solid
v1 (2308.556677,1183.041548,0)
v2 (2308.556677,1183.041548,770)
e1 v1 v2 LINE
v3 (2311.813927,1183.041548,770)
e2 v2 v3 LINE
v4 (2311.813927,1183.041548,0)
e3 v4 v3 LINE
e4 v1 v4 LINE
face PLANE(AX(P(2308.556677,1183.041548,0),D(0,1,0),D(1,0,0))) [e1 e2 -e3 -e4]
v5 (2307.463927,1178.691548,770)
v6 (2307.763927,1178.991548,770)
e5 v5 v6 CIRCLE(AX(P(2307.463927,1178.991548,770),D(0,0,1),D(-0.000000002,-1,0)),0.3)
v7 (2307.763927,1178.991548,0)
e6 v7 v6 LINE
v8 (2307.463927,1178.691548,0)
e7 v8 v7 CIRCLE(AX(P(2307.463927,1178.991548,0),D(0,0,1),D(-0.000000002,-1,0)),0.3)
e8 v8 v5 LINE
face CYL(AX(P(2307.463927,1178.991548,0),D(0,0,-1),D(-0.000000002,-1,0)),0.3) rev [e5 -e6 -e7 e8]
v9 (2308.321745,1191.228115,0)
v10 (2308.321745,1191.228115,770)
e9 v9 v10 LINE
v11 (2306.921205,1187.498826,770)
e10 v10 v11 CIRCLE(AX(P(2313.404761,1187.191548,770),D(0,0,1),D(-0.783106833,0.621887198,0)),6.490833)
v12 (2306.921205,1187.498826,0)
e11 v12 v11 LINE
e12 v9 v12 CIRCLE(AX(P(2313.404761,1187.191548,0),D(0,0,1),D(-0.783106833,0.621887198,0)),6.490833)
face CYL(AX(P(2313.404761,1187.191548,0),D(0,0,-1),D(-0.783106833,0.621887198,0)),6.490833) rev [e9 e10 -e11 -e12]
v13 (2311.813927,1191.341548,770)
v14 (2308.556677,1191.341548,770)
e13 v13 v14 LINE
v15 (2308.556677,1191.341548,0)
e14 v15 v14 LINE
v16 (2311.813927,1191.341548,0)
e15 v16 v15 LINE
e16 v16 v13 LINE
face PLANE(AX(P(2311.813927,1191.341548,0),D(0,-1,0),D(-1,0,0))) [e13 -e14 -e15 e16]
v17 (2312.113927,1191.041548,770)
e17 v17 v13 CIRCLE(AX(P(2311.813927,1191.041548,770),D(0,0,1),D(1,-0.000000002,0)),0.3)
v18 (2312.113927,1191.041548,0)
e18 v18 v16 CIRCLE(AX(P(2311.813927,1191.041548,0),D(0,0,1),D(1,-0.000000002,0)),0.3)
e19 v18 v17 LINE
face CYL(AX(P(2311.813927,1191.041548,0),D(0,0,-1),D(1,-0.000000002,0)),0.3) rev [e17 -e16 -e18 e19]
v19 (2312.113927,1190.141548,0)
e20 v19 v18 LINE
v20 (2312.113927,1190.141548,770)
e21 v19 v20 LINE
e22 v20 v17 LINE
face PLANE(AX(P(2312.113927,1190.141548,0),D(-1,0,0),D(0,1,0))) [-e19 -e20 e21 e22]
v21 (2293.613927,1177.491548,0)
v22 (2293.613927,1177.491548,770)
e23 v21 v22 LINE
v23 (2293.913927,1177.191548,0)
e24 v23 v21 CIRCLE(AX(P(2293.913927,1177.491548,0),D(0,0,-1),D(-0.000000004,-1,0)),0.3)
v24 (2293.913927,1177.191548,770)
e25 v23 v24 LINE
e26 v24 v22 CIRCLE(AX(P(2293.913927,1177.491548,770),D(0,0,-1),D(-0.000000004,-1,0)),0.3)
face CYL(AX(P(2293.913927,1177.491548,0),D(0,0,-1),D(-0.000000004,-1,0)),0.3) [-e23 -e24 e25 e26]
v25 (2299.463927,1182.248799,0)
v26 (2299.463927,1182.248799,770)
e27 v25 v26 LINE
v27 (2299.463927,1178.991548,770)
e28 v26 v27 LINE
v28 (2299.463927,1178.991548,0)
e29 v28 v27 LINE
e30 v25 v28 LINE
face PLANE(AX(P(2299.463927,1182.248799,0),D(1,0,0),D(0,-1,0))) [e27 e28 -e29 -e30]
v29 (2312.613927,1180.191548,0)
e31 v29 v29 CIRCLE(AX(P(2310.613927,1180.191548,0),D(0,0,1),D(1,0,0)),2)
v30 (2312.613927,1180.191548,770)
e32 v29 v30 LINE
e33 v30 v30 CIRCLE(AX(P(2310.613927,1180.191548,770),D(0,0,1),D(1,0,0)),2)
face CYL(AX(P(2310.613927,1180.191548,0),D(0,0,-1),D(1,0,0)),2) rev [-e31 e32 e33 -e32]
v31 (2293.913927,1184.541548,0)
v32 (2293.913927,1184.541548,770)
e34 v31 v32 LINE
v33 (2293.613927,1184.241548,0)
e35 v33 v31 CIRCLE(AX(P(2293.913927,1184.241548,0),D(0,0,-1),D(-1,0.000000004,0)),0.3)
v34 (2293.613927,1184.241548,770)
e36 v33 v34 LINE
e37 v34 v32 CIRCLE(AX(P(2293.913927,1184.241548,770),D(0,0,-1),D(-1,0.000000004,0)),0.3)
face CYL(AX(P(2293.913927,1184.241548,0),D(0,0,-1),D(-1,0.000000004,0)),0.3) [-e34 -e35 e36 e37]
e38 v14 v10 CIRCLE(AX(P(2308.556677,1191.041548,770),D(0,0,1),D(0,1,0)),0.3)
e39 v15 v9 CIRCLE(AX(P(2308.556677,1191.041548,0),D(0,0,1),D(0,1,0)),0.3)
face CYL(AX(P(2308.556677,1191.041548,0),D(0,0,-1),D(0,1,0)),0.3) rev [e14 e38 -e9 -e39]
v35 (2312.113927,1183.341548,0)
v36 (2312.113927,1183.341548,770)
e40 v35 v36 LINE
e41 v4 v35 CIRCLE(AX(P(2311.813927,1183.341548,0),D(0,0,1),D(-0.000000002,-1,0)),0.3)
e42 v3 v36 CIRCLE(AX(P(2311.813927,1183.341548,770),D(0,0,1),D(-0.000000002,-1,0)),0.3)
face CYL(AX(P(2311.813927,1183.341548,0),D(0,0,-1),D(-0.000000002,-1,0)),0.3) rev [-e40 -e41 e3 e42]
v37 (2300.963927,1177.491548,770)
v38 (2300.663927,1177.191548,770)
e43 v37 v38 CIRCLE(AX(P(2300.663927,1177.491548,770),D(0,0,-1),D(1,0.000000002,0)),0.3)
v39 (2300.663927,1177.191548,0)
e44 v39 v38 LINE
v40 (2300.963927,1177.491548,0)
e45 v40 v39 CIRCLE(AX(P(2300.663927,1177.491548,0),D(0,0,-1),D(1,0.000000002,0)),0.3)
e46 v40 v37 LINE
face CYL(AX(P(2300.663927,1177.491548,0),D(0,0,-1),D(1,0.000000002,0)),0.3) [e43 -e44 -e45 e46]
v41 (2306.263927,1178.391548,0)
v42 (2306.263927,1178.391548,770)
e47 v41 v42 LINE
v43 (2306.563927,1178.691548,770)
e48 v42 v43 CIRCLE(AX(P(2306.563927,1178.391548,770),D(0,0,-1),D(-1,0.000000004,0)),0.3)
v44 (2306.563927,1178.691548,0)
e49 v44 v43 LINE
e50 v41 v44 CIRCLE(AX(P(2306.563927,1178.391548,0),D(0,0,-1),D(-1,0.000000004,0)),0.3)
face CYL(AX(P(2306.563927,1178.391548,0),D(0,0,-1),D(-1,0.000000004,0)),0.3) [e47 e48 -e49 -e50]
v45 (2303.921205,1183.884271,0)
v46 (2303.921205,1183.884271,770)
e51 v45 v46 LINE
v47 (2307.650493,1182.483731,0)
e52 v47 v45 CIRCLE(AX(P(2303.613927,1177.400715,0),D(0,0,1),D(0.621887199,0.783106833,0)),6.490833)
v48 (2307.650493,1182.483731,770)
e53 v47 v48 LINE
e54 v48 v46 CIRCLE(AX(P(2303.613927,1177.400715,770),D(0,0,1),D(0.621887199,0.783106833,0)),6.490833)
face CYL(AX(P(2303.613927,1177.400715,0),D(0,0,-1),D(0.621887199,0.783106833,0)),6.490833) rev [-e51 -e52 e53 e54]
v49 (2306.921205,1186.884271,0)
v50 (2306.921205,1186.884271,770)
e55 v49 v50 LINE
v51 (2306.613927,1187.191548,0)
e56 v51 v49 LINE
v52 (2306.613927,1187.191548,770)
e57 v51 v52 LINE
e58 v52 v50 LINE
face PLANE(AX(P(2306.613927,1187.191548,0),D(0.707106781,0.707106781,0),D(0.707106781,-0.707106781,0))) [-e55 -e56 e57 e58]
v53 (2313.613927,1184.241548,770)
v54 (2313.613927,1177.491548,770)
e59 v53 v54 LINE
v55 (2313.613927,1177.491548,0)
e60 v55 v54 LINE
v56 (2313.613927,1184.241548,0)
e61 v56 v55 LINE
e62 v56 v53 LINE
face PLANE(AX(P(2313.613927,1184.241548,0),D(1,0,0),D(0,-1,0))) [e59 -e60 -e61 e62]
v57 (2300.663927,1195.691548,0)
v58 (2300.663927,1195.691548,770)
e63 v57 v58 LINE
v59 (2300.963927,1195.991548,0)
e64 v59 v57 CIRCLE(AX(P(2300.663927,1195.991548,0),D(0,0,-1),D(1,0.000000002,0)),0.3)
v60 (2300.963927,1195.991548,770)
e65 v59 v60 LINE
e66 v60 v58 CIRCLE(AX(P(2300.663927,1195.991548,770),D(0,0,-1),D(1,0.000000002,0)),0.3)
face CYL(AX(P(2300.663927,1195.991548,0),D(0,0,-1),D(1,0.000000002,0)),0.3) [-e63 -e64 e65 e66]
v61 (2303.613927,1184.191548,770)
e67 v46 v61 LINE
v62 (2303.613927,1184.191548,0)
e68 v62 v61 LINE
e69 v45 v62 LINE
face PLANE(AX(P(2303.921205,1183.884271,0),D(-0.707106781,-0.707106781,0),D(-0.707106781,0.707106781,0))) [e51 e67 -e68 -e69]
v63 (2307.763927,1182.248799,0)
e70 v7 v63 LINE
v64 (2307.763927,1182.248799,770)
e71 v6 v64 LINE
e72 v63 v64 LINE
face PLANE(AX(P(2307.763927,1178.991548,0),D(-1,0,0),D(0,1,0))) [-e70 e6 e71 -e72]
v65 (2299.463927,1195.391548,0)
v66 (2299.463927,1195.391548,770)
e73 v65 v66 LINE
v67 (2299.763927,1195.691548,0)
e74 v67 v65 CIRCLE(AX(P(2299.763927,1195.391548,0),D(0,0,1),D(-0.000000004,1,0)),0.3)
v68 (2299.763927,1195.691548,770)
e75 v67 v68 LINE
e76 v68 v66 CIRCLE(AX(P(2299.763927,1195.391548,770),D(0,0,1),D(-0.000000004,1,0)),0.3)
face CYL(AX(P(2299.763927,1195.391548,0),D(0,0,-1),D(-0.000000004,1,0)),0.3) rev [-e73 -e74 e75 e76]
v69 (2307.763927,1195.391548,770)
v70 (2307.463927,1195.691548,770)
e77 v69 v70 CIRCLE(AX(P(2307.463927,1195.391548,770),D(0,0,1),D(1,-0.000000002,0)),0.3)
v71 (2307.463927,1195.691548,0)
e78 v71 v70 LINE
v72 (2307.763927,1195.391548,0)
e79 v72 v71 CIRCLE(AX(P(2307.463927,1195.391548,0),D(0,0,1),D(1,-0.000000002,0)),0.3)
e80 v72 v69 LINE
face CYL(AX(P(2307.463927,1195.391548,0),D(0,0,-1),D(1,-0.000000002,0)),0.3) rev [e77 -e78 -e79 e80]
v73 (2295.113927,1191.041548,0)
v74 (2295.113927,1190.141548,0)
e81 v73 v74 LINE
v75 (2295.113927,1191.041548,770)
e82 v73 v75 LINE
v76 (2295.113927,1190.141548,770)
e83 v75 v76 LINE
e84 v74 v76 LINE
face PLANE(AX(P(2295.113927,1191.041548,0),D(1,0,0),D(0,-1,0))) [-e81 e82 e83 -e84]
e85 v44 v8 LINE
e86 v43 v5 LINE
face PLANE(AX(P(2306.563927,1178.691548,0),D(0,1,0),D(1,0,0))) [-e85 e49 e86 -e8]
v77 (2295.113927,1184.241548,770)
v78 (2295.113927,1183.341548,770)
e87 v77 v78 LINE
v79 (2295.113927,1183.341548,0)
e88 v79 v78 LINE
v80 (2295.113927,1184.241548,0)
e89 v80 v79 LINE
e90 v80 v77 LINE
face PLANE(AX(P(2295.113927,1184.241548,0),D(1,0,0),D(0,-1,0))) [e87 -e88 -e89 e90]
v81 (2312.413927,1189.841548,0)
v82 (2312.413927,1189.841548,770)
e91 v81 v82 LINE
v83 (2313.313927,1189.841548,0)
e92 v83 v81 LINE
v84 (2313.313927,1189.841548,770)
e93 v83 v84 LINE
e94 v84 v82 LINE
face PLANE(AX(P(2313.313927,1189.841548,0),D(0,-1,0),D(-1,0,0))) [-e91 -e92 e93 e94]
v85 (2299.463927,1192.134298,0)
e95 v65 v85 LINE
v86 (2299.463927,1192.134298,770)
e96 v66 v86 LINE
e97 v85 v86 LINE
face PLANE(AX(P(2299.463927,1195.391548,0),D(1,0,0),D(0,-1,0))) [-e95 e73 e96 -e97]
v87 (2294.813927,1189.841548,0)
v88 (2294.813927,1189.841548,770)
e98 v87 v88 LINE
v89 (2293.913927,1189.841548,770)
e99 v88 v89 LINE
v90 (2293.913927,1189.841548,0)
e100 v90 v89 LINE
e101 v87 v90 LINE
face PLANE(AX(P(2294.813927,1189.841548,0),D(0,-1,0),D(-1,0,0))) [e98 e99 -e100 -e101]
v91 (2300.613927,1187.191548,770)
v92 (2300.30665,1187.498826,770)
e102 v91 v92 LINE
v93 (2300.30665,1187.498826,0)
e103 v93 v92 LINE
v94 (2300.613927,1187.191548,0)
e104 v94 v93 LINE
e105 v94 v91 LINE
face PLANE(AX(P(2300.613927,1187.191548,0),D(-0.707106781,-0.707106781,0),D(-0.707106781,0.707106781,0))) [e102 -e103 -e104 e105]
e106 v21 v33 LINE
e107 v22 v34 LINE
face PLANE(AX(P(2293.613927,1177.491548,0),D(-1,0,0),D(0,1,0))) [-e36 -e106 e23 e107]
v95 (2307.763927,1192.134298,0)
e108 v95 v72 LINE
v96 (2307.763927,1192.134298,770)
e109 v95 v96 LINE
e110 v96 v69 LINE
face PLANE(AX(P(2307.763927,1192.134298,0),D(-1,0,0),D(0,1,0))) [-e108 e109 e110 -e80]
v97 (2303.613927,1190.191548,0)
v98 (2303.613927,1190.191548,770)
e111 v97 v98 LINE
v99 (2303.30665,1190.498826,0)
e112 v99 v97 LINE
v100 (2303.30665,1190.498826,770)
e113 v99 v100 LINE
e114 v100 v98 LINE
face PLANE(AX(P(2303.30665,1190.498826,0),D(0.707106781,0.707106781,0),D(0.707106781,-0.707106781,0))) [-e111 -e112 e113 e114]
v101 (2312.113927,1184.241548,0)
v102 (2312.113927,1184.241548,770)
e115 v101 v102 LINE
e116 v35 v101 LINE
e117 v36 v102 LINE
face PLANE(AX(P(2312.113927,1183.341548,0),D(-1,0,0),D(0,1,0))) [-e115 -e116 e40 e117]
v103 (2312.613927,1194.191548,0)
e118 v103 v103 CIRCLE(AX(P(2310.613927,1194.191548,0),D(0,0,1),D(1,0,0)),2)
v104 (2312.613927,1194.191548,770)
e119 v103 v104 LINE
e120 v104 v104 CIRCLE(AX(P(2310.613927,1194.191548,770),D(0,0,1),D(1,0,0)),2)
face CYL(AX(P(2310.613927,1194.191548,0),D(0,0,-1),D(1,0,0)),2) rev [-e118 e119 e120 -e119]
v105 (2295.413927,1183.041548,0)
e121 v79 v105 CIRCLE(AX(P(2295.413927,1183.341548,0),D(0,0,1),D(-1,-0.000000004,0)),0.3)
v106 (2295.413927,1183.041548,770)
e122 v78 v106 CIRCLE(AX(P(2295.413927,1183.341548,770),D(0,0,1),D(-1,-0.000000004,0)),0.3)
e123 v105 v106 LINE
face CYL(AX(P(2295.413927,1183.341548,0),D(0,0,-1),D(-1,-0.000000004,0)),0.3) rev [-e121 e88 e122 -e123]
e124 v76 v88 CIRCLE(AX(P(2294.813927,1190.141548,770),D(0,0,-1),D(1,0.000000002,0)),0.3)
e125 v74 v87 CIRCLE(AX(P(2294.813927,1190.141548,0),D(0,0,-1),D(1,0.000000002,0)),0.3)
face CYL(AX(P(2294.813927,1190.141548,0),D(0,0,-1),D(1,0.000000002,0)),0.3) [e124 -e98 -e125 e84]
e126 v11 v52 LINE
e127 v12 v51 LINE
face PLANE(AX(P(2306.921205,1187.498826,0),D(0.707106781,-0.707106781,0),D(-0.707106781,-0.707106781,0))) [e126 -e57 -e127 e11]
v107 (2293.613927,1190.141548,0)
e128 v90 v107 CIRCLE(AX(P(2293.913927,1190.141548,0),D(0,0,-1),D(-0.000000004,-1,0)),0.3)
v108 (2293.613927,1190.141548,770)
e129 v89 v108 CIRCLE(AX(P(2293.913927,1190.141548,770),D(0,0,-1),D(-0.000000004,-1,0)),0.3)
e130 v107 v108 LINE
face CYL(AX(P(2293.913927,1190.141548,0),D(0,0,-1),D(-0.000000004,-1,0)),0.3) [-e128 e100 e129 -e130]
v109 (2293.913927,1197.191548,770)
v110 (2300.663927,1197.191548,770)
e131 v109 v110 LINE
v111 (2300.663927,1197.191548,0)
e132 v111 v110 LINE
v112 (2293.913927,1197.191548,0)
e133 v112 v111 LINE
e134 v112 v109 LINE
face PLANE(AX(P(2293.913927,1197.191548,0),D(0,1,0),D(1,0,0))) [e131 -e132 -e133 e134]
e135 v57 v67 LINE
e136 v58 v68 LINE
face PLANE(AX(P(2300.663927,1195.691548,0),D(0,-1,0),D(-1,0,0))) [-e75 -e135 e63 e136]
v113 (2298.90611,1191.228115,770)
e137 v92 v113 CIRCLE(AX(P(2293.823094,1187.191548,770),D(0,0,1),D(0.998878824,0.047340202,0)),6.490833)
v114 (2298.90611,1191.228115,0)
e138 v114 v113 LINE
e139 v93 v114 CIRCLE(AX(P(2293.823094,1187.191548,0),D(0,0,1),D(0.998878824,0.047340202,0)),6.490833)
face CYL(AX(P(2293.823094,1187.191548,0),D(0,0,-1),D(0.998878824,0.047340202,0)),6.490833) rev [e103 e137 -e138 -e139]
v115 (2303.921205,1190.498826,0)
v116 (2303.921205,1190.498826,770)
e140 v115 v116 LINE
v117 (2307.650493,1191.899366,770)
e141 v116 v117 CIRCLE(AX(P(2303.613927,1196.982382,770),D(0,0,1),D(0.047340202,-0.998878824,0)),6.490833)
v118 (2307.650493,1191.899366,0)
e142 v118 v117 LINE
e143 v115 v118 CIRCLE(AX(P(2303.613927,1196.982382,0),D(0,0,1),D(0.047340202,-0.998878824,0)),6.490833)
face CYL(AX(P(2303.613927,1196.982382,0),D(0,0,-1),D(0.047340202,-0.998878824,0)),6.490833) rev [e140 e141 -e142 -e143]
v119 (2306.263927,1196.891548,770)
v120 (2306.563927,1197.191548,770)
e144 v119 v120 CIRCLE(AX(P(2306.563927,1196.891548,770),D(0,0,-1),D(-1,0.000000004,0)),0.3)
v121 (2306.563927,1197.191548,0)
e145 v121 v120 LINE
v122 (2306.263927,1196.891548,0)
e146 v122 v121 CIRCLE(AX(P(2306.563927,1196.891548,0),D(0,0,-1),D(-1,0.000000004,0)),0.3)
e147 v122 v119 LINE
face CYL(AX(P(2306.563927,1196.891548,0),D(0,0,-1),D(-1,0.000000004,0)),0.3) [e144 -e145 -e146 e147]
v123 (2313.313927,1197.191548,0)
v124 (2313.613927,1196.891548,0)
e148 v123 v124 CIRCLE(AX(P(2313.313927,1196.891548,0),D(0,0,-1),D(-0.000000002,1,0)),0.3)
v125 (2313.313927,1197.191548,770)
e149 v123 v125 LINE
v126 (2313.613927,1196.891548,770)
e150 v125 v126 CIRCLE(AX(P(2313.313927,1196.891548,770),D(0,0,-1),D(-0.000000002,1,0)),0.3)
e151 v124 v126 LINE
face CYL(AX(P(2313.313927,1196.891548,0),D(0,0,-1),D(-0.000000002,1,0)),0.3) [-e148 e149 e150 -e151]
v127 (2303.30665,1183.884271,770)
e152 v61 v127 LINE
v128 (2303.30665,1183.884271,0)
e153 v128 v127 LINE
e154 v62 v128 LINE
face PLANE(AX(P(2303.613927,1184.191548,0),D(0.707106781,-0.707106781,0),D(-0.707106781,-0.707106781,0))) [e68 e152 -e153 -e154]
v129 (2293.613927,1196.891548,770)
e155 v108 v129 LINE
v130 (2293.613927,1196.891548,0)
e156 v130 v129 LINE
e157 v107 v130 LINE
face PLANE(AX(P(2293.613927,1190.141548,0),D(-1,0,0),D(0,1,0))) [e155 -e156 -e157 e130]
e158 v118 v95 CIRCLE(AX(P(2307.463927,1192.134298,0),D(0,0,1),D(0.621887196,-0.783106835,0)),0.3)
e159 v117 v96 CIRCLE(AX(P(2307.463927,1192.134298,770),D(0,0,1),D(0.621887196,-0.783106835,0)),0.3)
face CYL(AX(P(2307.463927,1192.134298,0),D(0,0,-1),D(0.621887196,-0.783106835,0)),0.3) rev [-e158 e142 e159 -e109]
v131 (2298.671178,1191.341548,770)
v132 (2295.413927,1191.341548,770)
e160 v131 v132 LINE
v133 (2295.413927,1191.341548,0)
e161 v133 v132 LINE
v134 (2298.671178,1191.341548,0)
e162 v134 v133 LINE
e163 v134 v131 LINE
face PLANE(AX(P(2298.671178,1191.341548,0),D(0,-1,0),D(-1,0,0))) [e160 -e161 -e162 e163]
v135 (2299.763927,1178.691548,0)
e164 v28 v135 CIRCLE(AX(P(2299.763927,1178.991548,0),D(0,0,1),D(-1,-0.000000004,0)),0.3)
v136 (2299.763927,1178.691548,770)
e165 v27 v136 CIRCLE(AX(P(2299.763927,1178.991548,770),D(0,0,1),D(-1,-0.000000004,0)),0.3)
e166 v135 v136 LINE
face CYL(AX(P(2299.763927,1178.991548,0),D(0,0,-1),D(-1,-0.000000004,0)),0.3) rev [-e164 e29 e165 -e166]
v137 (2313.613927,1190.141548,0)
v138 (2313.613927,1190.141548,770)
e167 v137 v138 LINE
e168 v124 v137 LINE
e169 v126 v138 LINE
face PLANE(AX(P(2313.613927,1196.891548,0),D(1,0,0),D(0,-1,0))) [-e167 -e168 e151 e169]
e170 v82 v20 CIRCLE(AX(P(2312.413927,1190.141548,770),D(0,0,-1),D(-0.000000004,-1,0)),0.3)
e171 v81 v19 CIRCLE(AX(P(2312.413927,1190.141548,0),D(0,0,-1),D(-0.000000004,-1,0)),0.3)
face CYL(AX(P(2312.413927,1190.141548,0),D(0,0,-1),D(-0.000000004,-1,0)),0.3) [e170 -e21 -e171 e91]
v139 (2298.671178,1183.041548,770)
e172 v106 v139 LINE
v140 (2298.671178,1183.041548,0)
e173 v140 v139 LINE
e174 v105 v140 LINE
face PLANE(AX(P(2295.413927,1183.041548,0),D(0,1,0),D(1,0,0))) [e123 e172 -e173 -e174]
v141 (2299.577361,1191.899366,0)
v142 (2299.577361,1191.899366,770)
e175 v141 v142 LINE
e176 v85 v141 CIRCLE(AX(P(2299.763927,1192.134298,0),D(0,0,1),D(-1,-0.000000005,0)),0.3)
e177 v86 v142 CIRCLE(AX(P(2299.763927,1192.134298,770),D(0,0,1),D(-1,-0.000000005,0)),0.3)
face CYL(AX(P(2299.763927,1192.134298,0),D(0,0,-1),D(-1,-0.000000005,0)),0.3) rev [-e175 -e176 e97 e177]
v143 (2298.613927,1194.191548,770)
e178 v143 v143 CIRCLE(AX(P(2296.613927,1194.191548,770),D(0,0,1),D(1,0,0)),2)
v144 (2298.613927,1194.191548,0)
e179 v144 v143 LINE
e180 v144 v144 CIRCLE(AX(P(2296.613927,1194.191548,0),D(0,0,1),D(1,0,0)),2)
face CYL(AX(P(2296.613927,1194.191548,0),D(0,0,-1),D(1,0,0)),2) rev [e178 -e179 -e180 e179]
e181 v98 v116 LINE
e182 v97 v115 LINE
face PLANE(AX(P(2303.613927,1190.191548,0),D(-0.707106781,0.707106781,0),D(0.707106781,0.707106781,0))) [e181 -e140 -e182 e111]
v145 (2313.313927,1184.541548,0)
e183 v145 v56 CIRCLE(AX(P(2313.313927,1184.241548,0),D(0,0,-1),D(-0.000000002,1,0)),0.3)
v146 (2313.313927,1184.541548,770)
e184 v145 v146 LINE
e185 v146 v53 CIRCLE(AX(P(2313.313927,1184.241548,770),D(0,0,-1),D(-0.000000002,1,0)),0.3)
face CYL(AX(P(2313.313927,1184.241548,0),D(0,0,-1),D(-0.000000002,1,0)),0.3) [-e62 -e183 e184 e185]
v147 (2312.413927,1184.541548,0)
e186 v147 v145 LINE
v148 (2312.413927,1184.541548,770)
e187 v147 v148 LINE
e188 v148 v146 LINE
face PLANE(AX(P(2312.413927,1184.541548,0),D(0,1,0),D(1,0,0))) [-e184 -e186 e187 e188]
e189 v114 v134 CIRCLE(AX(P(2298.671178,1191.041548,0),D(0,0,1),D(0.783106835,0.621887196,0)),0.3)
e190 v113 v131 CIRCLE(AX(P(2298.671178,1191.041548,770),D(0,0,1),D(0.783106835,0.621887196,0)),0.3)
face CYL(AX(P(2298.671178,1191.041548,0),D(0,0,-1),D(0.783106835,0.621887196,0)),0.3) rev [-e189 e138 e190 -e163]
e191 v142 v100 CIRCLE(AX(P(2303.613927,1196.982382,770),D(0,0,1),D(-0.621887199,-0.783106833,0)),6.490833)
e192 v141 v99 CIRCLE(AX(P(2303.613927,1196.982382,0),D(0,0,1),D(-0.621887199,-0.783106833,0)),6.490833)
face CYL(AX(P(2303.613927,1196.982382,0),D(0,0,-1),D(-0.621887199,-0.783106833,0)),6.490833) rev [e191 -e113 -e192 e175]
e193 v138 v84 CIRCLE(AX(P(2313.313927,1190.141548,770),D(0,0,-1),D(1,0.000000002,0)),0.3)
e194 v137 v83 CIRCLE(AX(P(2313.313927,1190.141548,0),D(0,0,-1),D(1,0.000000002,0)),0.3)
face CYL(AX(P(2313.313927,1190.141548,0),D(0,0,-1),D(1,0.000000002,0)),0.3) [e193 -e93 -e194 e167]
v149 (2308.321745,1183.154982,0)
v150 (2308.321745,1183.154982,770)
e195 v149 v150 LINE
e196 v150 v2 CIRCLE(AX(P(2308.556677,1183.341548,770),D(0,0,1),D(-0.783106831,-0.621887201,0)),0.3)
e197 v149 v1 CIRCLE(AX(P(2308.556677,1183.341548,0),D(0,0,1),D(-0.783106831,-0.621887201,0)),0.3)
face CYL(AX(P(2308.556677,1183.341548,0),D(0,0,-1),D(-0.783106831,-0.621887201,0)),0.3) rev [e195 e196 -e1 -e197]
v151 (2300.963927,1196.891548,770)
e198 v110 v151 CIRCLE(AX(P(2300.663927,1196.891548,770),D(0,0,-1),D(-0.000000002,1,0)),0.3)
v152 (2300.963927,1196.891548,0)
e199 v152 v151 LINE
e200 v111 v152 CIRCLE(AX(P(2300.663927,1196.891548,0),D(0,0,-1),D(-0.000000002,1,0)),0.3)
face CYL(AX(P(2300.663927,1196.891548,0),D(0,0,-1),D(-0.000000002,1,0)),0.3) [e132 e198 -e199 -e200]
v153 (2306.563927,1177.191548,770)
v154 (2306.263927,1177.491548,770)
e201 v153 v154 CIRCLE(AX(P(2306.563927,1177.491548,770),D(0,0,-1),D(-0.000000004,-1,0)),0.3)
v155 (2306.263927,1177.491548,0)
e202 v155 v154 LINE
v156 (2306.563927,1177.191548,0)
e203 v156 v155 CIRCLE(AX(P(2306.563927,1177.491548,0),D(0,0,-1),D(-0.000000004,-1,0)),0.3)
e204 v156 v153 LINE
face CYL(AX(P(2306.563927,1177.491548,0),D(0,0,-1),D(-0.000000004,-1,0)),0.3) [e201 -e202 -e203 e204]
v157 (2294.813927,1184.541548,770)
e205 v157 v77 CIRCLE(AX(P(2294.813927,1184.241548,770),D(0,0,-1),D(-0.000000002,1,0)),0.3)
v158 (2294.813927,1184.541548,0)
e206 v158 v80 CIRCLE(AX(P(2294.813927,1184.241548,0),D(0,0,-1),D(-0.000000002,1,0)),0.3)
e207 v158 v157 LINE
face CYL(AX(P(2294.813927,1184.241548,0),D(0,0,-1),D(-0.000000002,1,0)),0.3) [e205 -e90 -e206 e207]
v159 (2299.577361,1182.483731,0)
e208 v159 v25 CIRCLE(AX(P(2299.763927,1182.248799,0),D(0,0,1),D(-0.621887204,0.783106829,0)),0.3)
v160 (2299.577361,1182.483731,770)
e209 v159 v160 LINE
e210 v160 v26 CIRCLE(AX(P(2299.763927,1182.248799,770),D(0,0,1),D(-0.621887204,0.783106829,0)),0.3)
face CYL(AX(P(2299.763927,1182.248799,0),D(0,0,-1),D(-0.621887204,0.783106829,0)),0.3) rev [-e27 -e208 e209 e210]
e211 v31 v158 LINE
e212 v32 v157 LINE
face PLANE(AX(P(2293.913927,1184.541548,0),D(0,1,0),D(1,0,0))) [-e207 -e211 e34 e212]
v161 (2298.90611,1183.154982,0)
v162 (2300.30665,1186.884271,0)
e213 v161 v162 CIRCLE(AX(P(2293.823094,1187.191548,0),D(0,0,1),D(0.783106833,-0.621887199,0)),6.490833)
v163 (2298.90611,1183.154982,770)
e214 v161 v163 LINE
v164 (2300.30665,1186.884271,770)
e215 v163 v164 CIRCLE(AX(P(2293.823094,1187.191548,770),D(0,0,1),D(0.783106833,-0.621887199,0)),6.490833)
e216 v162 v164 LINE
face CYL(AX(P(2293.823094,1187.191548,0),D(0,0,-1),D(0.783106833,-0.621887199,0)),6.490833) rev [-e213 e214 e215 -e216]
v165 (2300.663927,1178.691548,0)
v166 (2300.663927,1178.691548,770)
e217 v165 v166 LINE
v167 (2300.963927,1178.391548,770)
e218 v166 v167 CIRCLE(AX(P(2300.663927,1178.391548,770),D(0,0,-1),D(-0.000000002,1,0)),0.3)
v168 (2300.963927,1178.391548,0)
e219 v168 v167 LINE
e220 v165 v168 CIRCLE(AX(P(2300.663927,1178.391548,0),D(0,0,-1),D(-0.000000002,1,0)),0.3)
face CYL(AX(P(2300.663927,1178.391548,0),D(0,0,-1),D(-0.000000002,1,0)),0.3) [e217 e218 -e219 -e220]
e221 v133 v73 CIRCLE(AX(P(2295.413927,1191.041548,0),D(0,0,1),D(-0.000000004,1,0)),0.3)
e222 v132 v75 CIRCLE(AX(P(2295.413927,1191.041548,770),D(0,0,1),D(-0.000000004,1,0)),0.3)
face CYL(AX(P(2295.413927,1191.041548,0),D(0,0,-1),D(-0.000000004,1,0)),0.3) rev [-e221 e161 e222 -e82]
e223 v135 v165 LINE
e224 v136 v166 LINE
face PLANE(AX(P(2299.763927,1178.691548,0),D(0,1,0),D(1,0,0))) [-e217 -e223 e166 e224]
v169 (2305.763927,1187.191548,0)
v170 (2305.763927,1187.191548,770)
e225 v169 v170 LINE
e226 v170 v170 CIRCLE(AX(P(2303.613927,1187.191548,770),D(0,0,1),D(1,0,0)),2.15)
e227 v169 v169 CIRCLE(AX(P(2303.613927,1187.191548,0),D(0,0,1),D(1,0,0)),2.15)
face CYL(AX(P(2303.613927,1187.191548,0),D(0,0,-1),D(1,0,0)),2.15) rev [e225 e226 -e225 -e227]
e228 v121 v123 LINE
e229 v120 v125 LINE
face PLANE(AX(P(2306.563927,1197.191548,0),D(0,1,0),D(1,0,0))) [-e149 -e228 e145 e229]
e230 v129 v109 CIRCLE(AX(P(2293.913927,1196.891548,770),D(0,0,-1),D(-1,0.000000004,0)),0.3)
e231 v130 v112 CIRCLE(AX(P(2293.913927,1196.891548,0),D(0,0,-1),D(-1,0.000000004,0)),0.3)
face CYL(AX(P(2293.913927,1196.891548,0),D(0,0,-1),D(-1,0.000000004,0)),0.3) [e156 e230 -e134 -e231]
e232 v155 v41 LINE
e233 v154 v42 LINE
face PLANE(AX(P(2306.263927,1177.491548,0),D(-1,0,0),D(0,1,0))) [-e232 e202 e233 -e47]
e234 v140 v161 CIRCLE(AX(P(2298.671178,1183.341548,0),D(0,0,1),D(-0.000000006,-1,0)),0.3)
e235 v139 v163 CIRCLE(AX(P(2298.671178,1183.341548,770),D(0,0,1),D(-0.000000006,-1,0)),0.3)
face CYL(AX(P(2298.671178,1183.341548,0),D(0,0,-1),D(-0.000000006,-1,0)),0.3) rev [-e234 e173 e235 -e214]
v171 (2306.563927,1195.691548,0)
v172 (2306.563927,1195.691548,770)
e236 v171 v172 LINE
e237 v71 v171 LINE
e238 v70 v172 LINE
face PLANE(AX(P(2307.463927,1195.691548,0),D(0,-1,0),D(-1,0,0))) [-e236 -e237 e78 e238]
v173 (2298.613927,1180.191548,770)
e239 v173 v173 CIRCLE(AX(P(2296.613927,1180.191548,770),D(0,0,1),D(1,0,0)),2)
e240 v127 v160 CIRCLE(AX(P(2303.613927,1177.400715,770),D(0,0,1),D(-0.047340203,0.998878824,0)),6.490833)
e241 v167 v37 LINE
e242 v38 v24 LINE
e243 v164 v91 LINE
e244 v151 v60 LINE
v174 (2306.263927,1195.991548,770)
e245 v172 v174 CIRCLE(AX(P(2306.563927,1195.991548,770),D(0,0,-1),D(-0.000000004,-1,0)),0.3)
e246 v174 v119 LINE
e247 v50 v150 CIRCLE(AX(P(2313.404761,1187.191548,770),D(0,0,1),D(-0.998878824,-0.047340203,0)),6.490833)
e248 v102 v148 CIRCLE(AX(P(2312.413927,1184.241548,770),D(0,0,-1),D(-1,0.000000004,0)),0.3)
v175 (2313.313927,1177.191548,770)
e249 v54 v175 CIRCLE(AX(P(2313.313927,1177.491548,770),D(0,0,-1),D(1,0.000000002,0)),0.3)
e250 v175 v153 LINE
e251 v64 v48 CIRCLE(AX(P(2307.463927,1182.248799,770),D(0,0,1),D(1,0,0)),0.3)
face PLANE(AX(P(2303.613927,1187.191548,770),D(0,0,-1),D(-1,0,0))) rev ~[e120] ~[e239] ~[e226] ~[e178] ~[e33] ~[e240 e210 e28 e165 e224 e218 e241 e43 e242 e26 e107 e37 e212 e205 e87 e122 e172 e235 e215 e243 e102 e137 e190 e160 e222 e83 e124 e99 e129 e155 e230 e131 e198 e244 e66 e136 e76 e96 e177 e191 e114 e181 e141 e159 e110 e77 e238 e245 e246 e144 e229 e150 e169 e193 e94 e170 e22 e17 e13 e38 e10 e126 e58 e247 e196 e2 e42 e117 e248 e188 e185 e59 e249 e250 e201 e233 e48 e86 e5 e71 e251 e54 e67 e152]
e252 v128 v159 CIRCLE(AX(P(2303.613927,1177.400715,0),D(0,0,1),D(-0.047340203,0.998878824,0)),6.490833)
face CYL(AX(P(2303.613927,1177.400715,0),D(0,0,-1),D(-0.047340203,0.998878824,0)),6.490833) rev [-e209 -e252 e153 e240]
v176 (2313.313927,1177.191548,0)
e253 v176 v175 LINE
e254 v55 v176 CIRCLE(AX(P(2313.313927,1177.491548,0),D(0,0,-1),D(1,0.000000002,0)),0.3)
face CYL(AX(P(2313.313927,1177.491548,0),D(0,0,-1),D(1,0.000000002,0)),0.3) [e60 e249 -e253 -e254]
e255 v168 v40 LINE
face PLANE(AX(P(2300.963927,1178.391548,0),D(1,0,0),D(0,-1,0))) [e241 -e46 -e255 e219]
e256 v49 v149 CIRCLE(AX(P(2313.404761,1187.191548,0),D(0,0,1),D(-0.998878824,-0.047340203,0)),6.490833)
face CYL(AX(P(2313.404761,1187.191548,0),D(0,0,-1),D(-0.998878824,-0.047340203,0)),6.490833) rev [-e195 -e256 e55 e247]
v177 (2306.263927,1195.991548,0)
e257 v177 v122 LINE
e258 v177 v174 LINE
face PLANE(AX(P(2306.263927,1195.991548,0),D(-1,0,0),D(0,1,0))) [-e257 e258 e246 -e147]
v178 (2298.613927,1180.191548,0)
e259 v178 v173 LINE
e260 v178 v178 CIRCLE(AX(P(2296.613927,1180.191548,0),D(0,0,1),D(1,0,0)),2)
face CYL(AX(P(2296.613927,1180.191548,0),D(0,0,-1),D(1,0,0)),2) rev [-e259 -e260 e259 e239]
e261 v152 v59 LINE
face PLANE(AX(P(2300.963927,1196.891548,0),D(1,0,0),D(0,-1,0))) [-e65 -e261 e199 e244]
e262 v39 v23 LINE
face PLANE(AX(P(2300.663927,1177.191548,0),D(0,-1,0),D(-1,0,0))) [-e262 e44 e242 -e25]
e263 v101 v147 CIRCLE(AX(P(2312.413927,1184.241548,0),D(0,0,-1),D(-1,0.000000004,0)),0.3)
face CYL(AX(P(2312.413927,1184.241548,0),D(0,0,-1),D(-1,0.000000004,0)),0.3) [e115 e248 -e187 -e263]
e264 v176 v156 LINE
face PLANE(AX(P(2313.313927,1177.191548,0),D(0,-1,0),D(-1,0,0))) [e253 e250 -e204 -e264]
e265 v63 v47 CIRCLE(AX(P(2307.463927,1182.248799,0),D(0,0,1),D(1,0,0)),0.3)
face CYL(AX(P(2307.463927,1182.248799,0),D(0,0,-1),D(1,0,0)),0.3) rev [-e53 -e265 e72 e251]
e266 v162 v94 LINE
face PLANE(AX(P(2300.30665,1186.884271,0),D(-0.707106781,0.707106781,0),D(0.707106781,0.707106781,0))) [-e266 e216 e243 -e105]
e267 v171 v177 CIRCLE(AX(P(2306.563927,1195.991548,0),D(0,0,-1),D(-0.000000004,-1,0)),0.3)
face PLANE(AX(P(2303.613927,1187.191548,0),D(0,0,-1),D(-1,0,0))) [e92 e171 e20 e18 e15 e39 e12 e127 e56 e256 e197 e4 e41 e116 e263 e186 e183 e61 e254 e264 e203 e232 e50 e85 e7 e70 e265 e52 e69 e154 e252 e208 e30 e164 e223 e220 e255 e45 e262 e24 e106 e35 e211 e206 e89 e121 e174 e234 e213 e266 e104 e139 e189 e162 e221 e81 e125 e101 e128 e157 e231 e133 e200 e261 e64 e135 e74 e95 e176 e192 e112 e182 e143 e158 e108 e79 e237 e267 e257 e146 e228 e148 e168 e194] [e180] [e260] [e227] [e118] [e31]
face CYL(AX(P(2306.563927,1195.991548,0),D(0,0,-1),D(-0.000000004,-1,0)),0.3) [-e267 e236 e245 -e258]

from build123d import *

# Parameters (mm, degrees)
MODEL_R         = 2.15
MODEL_R_2       = 2
EXTRUDE_1_DEPTH = 770


with BuildPart() as part:
    # Model → 보스-돌출1 (new body)
    with BuildSketch(Plane.XY):
        with BuildLine():
            Line((2307.763927197, 1192.134297913), (2307.763927197, 1195.391548465))
            ThreePointArc((2307.763927197, 1195.391548465), (2307.676059232, 1195.603680499), (2307.463927197, 1195.691548465))
            Line((2307.463927197, 1195.691548465), (2306.563927197, 1195.691548465))
            ThreePointArc((2306.563927197, 1195.691548465), (2306.351795163, 1195.779416431), (2306.263927197, 1195.991548465))
            Line((2306.263927197, 1195.991548465), (2306.263927197, 1196.891548465))
            ThreePointArc((2306.263927197, 1196.891548465), (2306.351795163, 1197.103680499), (2306.563927197, 1197.191548465))
            Line((2306.563927197, 1197.191548465), (2313.313927197, 1197.191548465))
            ThreePointArc((2313.313927197, 1197.191548465), (2313.526059232, 1197.103680499), (2313.613927197, 1196.891548465))
            Line((2313.613927197, 1196.891548465), (2313.613927197, 1190.141548465))
            ThreePointArc((2313.613927197, 1190.141548465), (2313.526059232, 1189.929416431), (2313.313927197, 1189.841548465))
            Line((2313.313927197, 1189.841548465), (2312.413927197, 1189.841548465))
            ThreePointArc((2312.413927197, 1189.841548465), (2312.201795163, 1189.929416431), (2312.113927197, 1190.141548465))
            Line((2312.113927197, 1190.141548465), (2312.113927197, 1191.041548465))
            ThreePointArc((2312.113927197, 1191.041548465), (2312.026059232, 1191.253680499), (2311.813927197, 1191.341548465))
            Line((2311.813927197, 1191.341548465), (2308.556676645, 1191.341548465))
            ThreePointArc((2308.556676645, 1191.341548465), (2308.426234796, 1191.311705686), (2308.321744595, 1191.228114625))
            ThreePointArc((2308.321744595, 1191.228114625), (2307.328306374, 1189.47356999), (2306.921204563, 1187.498825831))
            Line((2306.921204563, 1187.498825831), (2306.613927197, 1187.191548465))
            Line((2306.613927197, 1187.191548465), (2306.921204563, 1186.884271099))
            ThreePointArc((2306.921204563, 1186.884271099), (2307.328306374, 1184.90952694), (2308.321744595, 1183.154982305))
            ThreePointArc((2308.321744595, 1183.154982305), (2308.426234796, 1183.071391244), (2308.556676645, 1183.041548465))
            Line((2308.556676645, 1183.041548465), (2311.813927197, 1183.041548465))
            ThreePointArc((2311.813927197, 1183.041548465), (2312.026059232, 1183.129416431), (2312.113927197, 1183.341548465))
            Line((2312.113927197, 1183.341548465), (2312.113927197, 1184.241548465))
            ThreePointArc((2312.113927197, 1184.241548465), (2312.201795163, 1184.453680499), (2312.413927197, 1184.541548465))
            Line((2312.413927197, 1184.541548465), (2313.313927197, 1184.541548465))
            ThreePointArc((2313.313927197, 1184.541548465), (2313.526059232, 1184.453680499), (2313.613927197, 1184.241548465))
            Line((2313.613927197, 1184.241548465), (2313.613927197, 1177.491548465))
            ThreePointArc((2313.613927197, 1177.491548465), (2313.526059232, 1177.279416431), (2313.313927197, 1177.191548465))
            Line((2313.313927197, 1177.191548465), (2306.563927197, 1177.191548465))
            ThreePointArc((2306.563927197, 1177.191548465), (2306.351795163, 1177.279416431), (2306.263927197, 1177.491548465))
            Line((2306.263927197, 1177.491548465), (2306.263927197, 1178.391548465))
            ThreePointArc((2306.263927197, 1178.391548465), (2306.351795163, 1178.603680499), (2306.563927197, 1178.691548465))
            Line((2306.563927197, 1178.691548465), (2307.463927197, 1178.691548465))
            ThreePointArc((2307.463927197, 1178.691548465), (2307.676059232, 1178.779416431), (2307.763927197, 1178.991548465))
            Line((2307.763927197, 1178.991548465), (2307.763927197, 1182.248799017))
            ThreePointArc((2307.763927197, 1182.248799017), (2307.734084418, 1182.379240866), (2307.650493357, 1182.483731067))
            ThreePointArc((2307.650493357, 1182.483731067), (2305.895948722, 1183.477169289), (2303.921204563, 1183.884271099))
            Line((2303.921204563, 1183.884271099), (2303.613927197, 1184.191548465))
            Line((2303.613927197, 1184.191548465), (2303.306649831, 1183.884271099))
            ThreePointArc((2303.306649831, 1183.884271099), (2301.331905673, 1183.477169289), (2299.577361038, 1182.483731067))
            ThreePointArc((2299.577361038, 1182.483731067), (2299.493769977, 1182.379240866), (2299.463927197, 1182.248799017))
            Line((2299.463927197, 1182.248799017), (2299.463927197, 1178.991548465))
            ThreePointArc((2299.463927197, 1178.991548465), (2299.551795163, 1178.779416431), (2299.763927197, 1178.691548465))
            Line((2299.763927197, 1178.691548465), (2300.663927197, 1178.691548465))
            ThreePointArc((2300.663927197, 1178.691548465), (2300.876059232, 1178.603680499), (2300.963927197, 1178.391548465))
            Line((2300.963927197, 1178.391548465), (2300.963927197, 1177.491548465))
            ThreePointArc((2300.963927197, 1177.491548465), (2300.876059232, 1177.279416431), (2300.663927197, 1177.191548465))
            Line((2300.663927197, 1177.191548465), (2293.913927197, 1177.191548465))
            ThreePointArc((2293.913927197, 1177.191548465), (2293.701795163, 1177.279416431), (2293.613927197, 1177.491548465))
            Line((2293.613927197, 1177.491548465), (2293.613927197, 1184.241548465))
            ThreePointArc((2293.613927197, 1184.241548465), (2293.701795163, 1184.453680499), (2293.913927197, 1184.541548465))
            Line((2293.913927197, 1184.541548465), (2294.813927197, 1184.541548465))
            ThreePointArc((2294.813927197, 1184.541548465), (2295.026059232, 1184.453680499), (2295.113927197, 1184.241548465))
            Line((2295.113927197, 1184.241548465), (2295.113927197, 1183.341548465))
            ThreePointArc((2295.113927197, 1183.341548465), (2295.201795163, 1183.129416431), (2295.413927197, 1183.041548465))
            Line((2295.413927197, 1183.041548465), (2298.671177749, 1183.041548465))
            ThreePointArc((2298.671177749, 1183.041548465), (2298.801619599, 1183.071391244), (2298.906109799, 1183.154982305))
            ThreePointArc((2298.906109799, 1183.154982305), (2299.899548021, 1184.90952694), (2300.306649831, 1186.884271099))
            Line((2300.306649831, 1186.884271099), (2300.613927197, 1187.191548465))
            Line((2300.613927197, 1187.191548465), (2300.306649831, 1187.498825831))
            ThreePointArc((2300.306649831, 1187.498825831), (2299.899548021, 1189.47356999), (2298.906109799, 1191.228114625))
            ThreePointArc((2298.906109799, 1191.228114625), (2298.801619599, 1191.311705686), (2298.671177749, 1191.341548465))
            Line((2298.671177749, 1191.341548465), (2295.413927197, 1191.341548465))
            ThreePointArc((2295.413927197, 1191.341548465), (2295.201795163, 1191.253680499), (2295.113927197, 1191.041548465))
            Line((2295.113927197, 1191.041548465), (2295.113927197, 1190.141548465))
            ThreePointArc((2295.113927197, 1190.141548465), (2295.026059232, 1189.929416431), (2294.813927197, 1189.841548465))
            Line((2294.813927197, 1189.841548465), (2293.913927197, 1189.841548465))
            ThreePointArc((2293.913927197, 1189.841548465), (2293.701795163, 1189.929416431), (2293.613927197, 1190.141548465))
            Line((2293.613927197, 1190.141548465), (2293.613927197, 1196.891548465))
            ThreePointArc((2293.613927197, 1196.891548465), (2293.701795163, 1197.103680499), (2293.913927197, 1197.191548465))
            Line((2293.913927197, 1197.191548465), (2300.663927197, 1197.191548465))
            ThreePointArc((2300.663927197, 1197.191548465), (2300.876059232, 1197.103680499), (2300.963927197, 1196.891548465))
            Line((2300.963927197, 1196.891548465), (2300.963927197, 1195.991548465))
            ThreePointArc((2300.963927197, 1195.991548465), (2300.876059232, 1195.779416431), (2300.663927197, 1195.691548465))
            Line((2300.663927197, 1195.691548465), (2299.763927197, 1195.691548465))
            ThreePointArc((2299.763927197, 1195.691548465), (2299.551795163, 1195.603680499), (2299.463927197, 1195.391548465))
            Line((2299.463927197, 1195.391548465), (2299.463927197, 1192.134297913))
            ThreePointArc((2299.463927197, 1192.134297913), (2299.493769977, 1192.003856063), (2299.577361038, 1191.899365863))
            ThreePointArc((2299.577361038, 1191.899365863), (2301.331905673, 1190.905927641), (2303.306649831, 1190.498825831))
            Line((2303.306649831, 1190.498825831), (2303.613927197, 1190.191548465))
            Line((2303.613927197, 1190.191548465), (2303.921204563, 1190.498825831))
            ThreePointArc((2303.921204563, 1190.498825831), (2305.895948722, 1190.905927641), (2307.650493357, 1191.899365863))
            ThreePointArc((2307.650493357, 1191.899365863), (2307.734084418, 1192.003856063), (2307.763927197, 1192.134297913))
        make_face()
        with Locations((2303.613927197, 1187.191548465)):
            Circle(MODEL_R, mode=Mode.SUBTRACT)
        with Locations((2296.613927197, 1194.191548465)):
            Circle(MODEL_R_2, mode=Mode.SUBTRACT)
        with Locations((2296.613927197, 1180.191548465)):
            Circle(MODEL_R_2, mode=Mode.SUBTRACT)
        with Locations((2310.613927197, 1194.191548465)):
            Circle(MODEL_R_2, mode=Mode.SUBTRACT)
        with Locations((2310.613927197, 1180.191548465)):
            Circle(MODEL_R_2, mode=Mode.SUBTRACT)
    extrude(amount=EXTRUDE_1_DEPTH)


solid = part.part
